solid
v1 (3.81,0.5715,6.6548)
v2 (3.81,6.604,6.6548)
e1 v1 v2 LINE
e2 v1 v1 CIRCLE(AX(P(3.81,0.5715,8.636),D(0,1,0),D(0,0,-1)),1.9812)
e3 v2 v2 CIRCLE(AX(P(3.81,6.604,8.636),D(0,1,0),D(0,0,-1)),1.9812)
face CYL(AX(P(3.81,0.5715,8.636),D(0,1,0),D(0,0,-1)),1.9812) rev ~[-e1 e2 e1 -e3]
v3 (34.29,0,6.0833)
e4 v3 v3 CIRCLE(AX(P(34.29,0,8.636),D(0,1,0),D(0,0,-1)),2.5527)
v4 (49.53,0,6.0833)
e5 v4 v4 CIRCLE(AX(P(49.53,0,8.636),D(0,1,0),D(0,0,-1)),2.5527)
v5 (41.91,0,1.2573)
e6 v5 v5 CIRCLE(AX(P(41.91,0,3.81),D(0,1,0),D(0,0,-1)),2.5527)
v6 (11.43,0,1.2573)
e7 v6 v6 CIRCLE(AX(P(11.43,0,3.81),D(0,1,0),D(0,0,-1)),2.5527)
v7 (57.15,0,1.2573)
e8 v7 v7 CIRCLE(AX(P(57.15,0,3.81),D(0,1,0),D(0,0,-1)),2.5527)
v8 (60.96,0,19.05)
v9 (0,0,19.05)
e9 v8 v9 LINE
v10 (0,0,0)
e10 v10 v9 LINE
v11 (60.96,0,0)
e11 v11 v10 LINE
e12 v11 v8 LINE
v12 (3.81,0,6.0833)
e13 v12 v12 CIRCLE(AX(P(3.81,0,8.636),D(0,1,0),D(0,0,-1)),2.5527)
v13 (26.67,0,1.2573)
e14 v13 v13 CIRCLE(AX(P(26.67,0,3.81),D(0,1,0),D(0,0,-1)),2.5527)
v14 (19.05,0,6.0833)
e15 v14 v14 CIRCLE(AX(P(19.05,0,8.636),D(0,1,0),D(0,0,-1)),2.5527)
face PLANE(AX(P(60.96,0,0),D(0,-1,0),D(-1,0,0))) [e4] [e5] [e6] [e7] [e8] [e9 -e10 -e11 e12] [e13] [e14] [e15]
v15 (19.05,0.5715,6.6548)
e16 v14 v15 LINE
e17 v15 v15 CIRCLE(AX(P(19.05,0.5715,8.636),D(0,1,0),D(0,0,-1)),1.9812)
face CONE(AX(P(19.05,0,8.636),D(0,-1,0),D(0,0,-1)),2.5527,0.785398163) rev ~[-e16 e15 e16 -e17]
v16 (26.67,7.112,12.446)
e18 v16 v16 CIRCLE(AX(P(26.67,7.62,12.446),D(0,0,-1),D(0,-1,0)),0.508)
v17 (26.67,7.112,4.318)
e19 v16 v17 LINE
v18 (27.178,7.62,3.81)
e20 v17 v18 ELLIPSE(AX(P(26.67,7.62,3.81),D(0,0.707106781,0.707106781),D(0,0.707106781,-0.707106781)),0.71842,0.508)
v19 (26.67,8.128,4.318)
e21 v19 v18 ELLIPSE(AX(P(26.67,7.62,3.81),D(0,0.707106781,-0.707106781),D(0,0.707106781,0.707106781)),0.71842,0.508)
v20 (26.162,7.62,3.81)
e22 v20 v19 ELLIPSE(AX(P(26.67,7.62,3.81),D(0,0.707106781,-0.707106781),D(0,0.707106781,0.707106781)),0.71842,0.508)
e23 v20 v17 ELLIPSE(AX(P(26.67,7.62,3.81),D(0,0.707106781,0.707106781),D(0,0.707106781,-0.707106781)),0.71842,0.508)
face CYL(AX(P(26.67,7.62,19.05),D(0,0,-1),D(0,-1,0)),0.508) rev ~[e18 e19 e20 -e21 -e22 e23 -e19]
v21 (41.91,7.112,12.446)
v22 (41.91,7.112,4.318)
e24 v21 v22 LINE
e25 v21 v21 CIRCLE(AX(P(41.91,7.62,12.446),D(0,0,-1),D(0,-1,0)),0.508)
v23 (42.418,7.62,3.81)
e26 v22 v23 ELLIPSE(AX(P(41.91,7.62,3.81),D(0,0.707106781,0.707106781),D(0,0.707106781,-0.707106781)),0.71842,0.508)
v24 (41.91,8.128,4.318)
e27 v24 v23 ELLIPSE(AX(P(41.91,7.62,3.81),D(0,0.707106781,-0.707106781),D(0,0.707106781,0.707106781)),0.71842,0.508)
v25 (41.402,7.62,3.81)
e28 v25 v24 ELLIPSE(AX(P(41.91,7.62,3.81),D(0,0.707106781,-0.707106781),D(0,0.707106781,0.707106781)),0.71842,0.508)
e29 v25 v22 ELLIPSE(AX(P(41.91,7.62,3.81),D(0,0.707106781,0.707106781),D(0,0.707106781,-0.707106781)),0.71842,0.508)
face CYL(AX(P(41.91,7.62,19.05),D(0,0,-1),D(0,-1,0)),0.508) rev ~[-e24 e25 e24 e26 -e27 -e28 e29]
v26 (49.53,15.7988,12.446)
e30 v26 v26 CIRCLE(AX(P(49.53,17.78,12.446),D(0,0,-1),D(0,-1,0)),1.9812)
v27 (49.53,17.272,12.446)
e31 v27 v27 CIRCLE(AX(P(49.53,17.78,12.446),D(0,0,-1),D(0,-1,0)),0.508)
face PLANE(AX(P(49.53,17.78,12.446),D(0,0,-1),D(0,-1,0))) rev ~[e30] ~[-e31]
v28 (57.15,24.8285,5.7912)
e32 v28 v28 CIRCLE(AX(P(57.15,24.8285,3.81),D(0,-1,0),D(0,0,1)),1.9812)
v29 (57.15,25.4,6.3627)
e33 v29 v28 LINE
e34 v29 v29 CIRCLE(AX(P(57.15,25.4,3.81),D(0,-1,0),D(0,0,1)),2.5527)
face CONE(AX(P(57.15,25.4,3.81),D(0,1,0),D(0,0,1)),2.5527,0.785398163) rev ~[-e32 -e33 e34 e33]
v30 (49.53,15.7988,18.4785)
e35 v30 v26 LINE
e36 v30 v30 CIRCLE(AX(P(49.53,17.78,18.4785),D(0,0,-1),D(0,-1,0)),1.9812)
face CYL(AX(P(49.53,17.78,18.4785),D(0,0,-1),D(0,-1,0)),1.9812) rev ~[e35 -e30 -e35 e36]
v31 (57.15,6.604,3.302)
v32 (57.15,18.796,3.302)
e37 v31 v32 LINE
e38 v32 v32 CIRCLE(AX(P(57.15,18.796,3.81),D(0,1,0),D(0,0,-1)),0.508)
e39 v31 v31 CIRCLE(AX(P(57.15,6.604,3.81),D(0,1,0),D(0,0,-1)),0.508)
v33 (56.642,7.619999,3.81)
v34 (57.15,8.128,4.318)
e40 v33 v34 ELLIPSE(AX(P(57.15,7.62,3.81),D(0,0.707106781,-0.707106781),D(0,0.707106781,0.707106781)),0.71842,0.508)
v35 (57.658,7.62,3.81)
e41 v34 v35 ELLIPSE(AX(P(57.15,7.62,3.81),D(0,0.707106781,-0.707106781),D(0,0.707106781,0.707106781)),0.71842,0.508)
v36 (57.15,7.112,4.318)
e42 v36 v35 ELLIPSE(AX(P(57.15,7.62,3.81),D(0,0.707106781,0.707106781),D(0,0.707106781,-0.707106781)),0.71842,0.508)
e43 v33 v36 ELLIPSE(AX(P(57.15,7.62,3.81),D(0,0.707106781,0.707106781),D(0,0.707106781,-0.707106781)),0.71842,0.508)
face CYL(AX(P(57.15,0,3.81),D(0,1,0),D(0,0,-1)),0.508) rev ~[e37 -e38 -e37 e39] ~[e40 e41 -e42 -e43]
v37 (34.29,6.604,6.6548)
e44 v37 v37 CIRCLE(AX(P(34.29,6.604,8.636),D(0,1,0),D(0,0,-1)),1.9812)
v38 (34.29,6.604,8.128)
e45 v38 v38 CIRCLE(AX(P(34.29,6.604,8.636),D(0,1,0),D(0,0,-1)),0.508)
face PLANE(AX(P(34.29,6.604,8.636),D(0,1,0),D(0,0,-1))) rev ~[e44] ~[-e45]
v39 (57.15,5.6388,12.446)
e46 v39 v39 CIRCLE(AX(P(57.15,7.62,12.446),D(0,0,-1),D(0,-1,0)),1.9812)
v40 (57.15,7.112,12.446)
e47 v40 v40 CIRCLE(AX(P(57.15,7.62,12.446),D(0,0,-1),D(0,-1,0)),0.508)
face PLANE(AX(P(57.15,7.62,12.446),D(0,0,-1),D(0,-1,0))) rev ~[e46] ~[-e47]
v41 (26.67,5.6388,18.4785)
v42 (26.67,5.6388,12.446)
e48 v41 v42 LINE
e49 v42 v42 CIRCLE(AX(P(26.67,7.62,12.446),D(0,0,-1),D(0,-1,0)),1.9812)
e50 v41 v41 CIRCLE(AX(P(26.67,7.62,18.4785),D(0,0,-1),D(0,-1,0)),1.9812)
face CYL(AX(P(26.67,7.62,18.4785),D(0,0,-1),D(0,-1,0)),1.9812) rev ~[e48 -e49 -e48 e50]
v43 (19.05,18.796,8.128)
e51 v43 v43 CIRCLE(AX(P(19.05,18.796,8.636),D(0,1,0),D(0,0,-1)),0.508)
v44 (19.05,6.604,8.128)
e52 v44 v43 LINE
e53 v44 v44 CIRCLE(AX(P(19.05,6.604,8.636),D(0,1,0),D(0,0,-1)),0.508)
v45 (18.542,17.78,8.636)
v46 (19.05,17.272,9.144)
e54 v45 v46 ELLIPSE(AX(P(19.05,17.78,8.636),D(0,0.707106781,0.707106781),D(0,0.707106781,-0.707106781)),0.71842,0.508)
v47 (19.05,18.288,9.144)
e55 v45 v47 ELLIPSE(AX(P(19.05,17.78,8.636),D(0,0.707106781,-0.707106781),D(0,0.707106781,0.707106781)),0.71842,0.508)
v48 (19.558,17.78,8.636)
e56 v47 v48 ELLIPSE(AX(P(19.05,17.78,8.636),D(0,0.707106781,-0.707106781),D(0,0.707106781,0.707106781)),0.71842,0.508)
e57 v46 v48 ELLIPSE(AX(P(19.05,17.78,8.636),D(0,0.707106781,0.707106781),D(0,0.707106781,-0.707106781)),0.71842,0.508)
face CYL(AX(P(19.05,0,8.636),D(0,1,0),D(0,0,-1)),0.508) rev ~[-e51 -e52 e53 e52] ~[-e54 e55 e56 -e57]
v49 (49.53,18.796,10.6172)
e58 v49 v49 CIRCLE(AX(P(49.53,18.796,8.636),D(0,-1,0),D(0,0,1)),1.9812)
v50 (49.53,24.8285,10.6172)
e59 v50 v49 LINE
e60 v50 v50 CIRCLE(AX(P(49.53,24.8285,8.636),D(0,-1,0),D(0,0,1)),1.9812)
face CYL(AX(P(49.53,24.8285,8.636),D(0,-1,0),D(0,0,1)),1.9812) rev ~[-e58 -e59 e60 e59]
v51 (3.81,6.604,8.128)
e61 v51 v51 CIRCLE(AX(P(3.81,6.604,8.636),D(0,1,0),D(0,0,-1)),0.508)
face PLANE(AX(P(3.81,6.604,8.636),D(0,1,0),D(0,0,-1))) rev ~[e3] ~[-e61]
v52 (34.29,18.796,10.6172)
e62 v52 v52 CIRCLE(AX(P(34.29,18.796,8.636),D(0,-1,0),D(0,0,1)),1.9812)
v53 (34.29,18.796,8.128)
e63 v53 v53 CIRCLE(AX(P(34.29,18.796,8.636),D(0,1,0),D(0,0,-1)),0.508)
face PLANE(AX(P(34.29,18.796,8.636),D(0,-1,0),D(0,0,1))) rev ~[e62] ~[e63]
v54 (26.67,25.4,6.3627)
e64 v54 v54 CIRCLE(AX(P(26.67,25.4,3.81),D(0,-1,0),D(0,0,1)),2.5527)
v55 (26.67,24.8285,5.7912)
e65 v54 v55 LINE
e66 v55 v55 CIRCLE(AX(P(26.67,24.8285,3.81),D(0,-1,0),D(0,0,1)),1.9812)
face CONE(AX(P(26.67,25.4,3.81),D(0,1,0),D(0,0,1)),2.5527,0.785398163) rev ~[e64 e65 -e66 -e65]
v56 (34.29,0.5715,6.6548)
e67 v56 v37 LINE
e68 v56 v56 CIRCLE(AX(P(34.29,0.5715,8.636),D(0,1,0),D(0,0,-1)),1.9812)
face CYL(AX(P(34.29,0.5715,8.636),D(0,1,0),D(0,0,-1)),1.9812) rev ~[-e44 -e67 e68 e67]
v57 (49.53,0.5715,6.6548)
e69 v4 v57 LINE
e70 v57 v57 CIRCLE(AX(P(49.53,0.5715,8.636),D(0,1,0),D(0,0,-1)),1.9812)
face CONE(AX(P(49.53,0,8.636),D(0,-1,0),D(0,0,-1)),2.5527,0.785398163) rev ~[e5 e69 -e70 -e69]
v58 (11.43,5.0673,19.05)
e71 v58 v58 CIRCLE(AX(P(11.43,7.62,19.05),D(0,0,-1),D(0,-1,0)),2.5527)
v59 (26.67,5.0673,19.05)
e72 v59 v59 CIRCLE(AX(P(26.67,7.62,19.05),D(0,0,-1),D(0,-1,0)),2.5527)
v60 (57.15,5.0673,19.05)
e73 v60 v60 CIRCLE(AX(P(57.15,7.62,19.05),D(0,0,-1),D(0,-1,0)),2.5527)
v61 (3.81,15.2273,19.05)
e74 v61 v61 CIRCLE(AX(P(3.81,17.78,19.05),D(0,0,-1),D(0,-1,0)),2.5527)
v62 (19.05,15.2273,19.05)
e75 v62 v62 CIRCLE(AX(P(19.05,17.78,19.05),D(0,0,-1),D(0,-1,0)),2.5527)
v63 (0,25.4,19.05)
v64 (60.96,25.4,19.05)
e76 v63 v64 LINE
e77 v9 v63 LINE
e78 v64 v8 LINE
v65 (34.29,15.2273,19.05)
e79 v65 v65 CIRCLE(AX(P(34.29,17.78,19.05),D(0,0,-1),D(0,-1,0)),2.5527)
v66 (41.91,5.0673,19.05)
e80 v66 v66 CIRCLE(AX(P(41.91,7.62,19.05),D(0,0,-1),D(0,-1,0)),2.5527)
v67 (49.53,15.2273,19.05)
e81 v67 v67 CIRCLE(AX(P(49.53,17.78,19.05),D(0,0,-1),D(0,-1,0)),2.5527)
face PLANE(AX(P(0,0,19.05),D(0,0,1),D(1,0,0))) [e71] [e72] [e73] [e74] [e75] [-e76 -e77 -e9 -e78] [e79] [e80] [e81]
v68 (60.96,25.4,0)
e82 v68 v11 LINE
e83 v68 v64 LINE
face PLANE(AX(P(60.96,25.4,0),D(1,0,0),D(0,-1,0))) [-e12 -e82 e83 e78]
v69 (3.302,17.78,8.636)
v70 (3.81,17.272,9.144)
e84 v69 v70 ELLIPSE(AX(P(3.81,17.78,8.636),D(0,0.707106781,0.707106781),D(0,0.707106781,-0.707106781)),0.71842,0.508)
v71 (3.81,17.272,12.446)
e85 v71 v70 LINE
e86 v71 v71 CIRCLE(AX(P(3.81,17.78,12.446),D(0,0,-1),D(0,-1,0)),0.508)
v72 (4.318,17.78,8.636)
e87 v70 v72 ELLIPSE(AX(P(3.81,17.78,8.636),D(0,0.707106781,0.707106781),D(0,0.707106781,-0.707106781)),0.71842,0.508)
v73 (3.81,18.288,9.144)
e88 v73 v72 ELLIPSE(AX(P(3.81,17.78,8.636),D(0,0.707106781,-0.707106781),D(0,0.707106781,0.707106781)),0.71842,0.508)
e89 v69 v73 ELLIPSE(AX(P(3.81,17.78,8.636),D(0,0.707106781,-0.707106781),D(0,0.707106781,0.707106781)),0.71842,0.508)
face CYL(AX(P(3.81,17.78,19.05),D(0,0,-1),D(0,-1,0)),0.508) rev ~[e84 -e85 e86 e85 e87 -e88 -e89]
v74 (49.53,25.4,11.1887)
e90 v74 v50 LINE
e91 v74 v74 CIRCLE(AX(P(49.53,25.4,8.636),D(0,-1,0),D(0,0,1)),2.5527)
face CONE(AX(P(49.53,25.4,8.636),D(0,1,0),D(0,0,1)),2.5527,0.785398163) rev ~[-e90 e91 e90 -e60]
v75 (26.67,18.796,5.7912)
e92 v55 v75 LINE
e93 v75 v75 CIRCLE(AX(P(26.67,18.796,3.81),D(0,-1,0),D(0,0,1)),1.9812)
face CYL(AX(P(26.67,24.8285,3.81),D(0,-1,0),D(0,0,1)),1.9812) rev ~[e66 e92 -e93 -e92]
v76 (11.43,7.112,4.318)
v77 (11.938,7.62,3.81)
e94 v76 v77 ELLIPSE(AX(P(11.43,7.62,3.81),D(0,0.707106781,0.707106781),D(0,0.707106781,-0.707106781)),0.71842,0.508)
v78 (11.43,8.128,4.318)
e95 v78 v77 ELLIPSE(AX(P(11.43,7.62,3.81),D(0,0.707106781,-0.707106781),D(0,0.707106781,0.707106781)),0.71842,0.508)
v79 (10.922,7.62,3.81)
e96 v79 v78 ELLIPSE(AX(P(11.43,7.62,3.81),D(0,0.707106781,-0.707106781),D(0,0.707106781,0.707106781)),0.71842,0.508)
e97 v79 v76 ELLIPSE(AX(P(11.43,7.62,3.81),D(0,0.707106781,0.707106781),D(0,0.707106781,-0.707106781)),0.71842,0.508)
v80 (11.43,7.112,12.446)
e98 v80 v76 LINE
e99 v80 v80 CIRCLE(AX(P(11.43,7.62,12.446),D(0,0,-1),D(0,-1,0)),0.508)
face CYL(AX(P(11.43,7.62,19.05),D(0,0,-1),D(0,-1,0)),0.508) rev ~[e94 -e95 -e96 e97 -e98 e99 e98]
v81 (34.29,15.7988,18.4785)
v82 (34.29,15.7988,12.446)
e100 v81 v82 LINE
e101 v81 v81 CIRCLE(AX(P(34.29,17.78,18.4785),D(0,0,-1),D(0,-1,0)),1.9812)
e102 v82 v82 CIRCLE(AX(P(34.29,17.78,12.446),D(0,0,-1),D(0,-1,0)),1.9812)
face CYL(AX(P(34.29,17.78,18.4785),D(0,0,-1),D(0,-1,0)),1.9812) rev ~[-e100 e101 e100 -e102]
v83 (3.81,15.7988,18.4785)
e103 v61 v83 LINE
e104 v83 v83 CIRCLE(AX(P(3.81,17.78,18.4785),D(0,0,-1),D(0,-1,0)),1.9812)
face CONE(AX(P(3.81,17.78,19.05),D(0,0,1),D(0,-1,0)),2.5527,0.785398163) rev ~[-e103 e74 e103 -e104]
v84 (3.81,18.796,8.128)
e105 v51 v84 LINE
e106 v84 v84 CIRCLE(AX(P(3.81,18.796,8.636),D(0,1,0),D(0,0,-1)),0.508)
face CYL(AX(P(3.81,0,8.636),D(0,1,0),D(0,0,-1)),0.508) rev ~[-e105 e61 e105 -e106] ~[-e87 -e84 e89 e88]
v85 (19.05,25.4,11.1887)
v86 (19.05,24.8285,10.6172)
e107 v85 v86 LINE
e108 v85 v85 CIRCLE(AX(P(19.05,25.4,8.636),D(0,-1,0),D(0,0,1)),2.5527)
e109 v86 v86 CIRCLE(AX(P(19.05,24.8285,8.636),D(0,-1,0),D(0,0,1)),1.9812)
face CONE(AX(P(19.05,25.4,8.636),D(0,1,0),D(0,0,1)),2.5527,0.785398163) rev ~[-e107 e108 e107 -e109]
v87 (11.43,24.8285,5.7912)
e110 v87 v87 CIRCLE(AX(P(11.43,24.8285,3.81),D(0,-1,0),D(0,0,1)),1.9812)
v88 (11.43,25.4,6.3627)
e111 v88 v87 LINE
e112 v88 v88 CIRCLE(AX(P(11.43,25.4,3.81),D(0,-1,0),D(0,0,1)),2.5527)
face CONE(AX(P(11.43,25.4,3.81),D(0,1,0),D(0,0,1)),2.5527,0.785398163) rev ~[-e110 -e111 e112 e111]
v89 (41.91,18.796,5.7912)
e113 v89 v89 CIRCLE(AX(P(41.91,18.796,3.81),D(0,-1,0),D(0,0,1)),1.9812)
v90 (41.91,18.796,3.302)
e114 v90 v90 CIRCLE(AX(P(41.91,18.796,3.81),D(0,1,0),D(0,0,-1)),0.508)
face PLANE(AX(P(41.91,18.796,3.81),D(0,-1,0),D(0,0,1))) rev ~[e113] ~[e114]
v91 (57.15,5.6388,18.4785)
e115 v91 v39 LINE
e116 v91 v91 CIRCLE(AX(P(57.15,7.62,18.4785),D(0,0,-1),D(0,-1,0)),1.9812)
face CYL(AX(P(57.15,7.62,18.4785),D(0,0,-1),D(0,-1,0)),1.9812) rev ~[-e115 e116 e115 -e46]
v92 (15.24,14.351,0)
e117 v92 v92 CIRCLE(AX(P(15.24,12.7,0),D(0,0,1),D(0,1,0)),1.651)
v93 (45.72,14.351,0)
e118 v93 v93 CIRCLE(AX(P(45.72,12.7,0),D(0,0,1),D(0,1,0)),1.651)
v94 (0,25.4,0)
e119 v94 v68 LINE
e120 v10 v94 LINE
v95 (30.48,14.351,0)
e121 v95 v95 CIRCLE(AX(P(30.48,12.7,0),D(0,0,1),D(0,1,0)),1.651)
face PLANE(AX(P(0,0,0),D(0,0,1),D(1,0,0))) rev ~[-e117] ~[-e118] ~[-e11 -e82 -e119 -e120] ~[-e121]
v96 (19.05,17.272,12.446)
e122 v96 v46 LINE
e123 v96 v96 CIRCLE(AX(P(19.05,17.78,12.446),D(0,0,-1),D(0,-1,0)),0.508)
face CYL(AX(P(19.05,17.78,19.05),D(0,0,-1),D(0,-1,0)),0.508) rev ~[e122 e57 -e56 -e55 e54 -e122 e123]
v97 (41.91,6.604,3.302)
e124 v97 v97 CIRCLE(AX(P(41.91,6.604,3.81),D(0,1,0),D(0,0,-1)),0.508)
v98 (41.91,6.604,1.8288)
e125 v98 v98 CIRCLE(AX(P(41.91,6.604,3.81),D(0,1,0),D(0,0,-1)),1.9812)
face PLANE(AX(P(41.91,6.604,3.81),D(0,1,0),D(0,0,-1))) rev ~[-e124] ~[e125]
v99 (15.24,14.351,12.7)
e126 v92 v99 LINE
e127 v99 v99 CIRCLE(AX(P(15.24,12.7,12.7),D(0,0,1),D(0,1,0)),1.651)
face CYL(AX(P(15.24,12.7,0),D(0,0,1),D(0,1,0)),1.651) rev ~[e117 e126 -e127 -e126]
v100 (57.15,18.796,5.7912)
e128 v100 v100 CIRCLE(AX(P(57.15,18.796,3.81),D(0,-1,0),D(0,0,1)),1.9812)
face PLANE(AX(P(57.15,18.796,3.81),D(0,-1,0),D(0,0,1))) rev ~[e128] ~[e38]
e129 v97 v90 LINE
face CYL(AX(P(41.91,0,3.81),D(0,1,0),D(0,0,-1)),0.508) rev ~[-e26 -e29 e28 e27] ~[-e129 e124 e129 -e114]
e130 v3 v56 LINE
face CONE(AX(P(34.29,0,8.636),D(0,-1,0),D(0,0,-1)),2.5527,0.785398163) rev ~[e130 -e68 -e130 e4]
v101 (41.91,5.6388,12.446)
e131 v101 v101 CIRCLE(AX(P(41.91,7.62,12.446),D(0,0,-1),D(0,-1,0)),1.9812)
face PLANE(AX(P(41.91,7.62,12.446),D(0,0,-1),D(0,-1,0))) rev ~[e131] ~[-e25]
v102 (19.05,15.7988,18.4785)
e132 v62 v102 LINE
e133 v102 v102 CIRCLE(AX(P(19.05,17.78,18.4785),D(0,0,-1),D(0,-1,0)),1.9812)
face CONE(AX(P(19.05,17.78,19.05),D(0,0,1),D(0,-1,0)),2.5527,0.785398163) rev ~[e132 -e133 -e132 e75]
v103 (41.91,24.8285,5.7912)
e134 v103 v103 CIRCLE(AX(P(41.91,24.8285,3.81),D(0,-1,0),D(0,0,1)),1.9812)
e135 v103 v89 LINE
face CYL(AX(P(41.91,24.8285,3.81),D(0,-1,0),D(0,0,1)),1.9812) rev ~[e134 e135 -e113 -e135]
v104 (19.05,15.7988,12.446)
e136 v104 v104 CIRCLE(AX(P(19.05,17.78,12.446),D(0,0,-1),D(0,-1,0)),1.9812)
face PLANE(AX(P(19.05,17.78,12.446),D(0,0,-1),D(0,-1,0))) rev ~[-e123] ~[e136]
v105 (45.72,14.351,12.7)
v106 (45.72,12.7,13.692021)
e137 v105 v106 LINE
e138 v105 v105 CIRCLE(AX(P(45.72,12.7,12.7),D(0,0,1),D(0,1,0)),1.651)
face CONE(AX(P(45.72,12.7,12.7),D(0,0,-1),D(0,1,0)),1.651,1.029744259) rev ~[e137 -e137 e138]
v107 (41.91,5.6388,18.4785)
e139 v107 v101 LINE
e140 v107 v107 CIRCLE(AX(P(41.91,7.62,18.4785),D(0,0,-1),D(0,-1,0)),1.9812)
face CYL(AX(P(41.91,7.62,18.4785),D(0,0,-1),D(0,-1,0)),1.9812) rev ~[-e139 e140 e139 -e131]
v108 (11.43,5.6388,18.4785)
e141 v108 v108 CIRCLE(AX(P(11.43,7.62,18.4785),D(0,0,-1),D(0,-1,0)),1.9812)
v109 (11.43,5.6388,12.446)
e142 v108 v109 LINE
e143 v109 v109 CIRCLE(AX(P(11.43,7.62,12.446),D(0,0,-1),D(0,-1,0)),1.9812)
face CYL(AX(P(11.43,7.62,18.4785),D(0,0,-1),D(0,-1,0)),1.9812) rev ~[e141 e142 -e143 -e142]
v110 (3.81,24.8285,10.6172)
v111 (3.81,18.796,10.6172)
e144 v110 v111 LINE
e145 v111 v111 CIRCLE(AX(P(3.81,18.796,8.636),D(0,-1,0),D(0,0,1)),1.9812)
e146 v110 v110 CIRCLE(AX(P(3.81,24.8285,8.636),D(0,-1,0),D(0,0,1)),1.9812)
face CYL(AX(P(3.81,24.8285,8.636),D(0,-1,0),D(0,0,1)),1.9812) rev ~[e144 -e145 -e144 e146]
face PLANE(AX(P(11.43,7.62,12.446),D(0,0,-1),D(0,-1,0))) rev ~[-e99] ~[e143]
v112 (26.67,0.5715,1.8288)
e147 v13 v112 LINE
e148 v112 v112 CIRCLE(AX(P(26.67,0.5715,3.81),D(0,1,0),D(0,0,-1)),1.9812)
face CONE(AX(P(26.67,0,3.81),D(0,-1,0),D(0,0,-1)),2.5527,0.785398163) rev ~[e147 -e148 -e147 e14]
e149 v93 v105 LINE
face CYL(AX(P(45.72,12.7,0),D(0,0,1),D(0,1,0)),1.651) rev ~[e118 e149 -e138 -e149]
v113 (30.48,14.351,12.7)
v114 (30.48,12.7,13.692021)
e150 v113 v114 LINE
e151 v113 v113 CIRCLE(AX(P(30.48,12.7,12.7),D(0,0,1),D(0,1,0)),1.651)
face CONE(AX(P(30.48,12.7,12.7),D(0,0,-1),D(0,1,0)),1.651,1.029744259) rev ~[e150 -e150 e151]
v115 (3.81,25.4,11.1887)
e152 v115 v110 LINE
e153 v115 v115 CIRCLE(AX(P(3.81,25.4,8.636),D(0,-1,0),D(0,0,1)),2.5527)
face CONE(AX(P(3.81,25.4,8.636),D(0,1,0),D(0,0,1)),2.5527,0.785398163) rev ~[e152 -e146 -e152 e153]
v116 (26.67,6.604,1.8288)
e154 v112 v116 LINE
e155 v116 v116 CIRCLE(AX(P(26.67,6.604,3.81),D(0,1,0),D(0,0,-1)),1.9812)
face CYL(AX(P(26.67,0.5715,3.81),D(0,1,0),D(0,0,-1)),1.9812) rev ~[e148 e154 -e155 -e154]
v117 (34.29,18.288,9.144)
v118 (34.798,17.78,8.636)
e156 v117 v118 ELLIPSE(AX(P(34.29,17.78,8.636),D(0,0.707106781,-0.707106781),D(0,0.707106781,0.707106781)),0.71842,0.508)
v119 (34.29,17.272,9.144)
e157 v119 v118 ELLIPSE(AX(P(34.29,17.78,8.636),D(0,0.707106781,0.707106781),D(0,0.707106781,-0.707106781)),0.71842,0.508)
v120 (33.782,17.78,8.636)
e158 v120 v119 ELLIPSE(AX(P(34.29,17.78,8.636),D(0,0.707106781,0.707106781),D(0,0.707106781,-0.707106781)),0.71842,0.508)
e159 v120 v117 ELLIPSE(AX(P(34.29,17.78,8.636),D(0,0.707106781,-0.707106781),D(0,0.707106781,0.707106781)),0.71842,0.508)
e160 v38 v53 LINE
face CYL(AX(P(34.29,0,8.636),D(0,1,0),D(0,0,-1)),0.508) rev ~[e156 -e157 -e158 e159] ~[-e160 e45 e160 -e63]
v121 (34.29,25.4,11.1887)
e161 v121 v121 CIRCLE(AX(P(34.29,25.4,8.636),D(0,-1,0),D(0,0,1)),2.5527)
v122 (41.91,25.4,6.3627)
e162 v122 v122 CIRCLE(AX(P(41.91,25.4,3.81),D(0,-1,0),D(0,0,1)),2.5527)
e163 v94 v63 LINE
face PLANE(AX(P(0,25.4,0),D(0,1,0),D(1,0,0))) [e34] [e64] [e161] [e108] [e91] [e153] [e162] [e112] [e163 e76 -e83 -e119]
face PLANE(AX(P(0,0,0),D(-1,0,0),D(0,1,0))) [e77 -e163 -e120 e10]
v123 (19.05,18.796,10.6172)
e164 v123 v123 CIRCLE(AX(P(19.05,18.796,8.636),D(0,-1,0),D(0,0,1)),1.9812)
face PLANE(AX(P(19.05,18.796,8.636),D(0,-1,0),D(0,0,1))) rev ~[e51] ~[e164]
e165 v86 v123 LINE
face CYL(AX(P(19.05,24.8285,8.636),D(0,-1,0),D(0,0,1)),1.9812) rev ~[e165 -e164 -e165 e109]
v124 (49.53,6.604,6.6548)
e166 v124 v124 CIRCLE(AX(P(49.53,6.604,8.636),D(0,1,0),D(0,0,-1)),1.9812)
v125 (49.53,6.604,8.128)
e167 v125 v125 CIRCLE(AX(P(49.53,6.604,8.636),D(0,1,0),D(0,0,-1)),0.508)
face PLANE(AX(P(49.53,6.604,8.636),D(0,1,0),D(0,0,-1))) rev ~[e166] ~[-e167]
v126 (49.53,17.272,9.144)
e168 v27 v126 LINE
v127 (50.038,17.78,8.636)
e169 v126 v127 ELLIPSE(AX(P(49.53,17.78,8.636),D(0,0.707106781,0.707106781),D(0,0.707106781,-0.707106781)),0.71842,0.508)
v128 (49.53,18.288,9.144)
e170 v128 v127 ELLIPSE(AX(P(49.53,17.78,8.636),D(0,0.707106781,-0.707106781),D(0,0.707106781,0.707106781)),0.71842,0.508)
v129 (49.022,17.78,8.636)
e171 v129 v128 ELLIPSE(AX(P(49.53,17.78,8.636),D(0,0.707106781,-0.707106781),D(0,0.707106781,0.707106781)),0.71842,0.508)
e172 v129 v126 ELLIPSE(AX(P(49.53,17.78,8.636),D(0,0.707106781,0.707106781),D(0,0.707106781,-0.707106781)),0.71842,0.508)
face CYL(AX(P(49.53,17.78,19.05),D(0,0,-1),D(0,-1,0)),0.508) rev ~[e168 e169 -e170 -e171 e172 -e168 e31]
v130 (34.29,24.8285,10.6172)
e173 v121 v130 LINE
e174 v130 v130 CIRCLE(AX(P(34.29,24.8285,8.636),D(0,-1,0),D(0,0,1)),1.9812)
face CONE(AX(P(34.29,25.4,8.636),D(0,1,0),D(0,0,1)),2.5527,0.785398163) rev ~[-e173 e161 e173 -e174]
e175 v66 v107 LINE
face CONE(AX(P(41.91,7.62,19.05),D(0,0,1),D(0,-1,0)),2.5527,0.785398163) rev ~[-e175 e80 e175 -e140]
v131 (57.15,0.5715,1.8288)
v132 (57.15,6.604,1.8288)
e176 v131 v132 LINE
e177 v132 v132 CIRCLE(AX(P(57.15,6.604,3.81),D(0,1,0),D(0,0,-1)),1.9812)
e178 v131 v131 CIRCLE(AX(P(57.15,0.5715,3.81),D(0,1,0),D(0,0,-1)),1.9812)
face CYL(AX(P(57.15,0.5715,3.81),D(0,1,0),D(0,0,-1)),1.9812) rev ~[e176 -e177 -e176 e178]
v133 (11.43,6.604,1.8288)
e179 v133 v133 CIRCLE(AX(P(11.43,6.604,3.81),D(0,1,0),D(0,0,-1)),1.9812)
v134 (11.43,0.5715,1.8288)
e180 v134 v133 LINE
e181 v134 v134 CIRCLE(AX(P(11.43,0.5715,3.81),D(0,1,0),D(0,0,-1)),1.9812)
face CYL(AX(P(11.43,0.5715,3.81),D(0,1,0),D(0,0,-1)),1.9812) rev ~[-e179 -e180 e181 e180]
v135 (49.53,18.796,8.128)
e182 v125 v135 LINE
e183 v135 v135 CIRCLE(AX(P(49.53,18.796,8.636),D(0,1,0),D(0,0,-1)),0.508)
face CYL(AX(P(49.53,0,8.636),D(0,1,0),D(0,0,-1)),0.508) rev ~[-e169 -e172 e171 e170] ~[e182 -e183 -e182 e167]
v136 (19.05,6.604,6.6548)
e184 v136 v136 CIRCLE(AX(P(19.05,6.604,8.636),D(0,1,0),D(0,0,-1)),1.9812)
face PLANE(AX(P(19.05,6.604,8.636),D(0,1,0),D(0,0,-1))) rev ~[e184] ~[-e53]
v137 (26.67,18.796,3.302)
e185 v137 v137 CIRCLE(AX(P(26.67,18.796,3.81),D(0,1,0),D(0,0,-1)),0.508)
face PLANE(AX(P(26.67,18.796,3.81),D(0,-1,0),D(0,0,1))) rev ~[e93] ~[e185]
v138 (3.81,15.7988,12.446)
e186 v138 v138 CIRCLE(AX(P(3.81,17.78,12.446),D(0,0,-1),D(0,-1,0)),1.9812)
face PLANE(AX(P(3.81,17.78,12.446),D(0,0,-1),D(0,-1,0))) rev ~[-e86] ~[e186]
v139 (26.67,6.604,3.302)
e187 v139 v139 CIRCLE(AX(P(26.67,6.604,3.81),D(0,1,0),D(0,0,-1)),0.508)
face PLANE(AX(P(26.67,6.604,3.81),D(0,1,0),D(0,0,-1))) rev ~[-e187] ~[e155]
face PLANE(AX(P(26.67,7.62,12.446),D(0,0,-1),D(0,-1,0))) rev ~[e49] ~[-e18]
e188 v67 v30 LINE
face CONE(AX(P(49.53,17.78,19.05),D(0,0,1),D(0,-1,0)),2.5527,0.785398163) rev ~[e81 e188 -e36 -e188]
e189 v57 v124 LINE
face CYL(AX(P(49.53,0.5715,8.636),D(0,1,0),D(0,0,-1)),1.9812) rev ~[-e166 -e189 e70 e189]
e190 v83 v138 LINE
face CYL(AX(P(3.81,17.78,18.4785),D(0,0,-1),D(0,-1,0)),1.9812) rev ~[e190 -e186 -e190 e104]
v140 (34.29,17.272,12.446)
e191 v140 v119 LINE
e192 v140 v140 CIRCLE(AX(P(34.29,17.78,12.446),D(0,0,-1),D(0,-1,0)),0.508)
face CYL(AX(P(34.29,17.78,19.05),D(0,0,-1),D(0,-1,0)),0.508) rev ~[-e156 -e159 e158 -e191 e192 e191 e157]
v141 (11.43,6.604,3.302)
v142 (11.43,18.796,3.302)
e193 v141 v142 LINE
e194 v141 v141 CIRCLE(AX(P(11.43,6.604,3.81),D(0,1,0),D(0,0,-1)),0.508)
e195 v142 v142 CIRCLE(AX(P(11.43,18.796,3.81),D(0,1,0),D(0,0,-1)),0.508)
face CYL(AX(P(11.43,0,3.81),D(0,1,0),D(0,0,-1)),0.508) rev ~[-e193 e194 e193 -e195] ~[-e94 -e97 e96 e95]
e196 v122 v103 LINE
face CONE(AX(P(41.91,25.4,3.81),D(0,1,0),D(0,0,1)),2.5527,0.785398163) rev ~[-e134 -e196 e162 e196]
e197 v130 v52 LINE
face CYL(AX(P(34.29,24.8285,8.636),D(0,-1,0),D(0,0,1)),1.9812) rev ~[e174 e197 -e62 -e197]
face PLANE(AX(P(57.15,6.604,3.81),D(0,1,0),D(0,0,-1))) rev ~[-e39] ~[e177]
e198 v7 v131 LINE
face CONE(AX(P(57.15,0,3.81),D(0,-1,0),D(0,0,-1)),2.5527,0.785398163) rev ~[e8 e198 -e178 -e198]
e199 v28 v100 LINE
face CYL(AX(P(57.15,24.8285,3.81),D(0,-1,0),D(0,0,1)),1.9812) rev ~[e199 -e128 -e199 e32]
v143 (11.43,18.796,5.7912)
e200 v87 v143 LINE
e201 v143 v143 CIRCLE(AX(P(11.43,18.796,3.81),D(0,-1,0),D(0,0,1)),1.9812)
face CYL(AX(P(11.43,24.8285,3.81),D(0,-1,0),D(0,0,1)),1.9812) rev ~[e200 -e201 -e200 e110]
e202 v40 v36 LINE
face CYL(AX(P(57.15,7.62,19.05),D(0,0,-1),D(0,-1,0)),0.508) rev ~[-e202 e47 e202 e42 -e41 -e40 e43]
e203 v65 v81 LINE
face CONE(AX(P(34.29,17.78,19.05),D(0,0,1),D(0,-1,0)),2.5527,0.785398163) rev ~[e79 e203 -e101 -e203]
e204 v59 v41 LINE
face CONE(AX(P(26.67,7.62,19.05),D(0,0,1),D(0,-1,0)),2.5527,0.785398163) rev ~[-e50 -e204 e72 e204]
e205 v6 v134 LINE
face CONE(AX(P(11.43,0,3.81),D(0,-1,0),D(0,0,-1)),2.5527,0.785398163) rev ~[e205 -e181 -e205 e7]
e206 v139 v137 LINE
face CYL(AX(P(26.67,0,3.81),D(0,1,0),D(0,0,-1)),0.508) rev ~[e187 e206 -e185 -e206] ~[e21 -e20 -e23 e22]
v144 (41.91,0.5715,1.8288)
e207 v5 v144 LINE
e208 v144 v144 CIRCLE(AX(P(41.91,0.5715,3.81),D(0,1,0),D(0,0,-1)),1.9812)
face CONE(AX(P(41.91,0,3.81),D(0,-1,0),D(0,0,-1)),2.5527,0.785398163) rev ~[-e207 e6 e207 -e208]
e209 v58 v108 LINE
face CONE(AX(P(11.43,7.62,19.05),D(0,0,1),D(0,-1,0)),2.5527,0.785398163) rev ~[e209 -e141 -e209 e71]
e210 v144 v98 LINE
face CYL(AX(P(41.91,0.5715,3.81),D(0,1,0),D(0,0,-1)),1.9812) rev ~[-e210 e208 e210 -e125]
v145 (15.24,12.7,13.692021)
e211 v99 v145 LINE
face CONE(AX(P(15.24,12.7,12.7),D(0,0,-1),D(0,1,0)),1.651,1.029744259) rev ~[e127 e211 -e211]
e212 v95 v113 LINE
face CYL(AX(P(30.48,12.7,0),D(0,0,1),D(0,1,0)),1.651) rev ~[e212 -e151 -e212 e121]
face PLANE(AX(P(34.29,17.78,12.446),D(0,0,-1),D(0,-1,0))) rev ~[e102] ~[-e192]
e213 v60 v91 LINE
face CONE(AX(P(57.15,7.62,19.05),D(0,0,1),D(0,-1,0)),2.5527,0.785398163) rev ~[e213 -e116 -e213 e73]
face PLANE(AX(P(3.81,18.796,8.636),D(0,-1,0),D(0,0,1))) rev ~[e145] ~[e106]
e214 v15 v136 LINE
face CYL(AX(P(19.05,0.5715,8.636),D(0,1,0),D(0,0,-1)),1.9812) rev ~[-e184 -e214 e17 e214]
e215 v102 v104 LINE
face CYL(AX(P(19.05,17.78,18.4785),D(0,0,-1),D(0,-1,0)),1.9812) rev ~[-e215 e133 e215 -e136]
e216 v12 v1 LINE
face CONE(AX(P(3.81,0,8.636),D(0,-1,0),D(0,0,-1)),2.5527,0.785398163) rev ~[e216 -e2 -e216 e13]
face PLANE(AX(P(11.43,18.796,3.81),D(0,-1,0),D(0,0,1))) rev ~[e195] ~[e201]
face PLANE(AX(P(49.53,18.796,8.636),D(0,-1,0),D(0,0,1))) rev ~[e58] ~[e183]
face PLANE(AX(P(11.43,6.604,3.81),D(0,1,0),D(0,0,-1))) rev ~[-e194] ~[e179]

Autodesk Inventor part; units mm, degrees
ref_plane "YZ Plane" through (0, 0, 0) normal (1, 0, 0) x (0, 1, 0)
sketch "Sketch1" plane through (0, 0, 0) normal (0, 0, 1) x (1, 0, 0)
  line L0 (0, 25.4) -> (60.96, 25.4)
  line L1 (60.96, 25.4) -> (60.96, 0)
  line L2 (60.96, 0) -> (0, 0)
  line L3 (0, 0) -> (0, 25.4)
  dimension "tmanifold_width" = 60.96
  dimension "tmanifold_depth" = 25.4
extrude "Extrusion1" add sketch "Sketch1" along normal blind 19.05
sketch "Sketch2" plane through (0, 0, 19.05) normal (0, 0, 1) x (1, 0, 0)
  line L0 (60.96, 25.4) -> (60.96, 0) projected
  line L1 (0, 25.4) -> (60.96, 25.4) projected
  line L2 (0, 0) -> (0, 25.4) projected
  line L3 (0, 12.7) -> (60.96, 12.7) construction
  line L4 (3.81, 17.78) -> (3.81, 12.7) construction
  line L5 (11.43, 7.62) -> (11.43, 12.7) construction
  point P0 (19.05, 17.78)
  point P1 (26.67, 7.62)
  point P2 (34.29, 17.78)
  point P3 (41.91, 7.62)
  point P4 (49.53, 17.78)
  point P5 (57.15, 7.62)
  dimension "d5" = 7.62
  dimension "d6" = 7.62
  dimension "d9" = 15.24
  dimension "d14" = 3.81
hole "top 10-32 ports" at (3.81, 17.78, 19.05) at (11.43, 7.62, 19.05) at (26.67, 7.62, 19.05) at (19.05, 17.78, 19.05) at (41.91, 7.62, 19.05) at (34.29, 17.78, 19.05) at (57.15, 7.62, 19.05) at (49.53, 17.78, 19.05) direction (0, 0, -1) diameter 3.9624 depth 6.604 countersink diameter 5.1054 countersink angle 90 thread size "10-32 UNF" class "2B" standard "ANSI Unified Screw Threads"
sketch "Sketch3" plane through (0, 0, 0) normal (0, -1, 0) x (1, 0, 0)
  line L0 (60.96, 19.05) -> (0, 19.05) projected
  line L1 (60.96, 0) -> (0, 0) projected
  line L2 (1.8288, 12.446) -> (1.8288, 18.4785) projected
  line L3 (5.7912, 12.446) -> (5.7912, 18.4785) projected
  line L4 (5.7912, 12.446) -> (1.8288, 12.446) projected
  line L5 (9.4488, 12.446) -> (9.4488, 18.4785) projected
  line L6 (13.4112, 12.446) -> (13.4112, 18.4785) projected
  line L7 (13.4112, 12.446) -> (9.4488, 12.446) projected
  line L8 (3.81, 12.446) -> (3.81, 0) construction
  line L9 (11.43, 12.446) -> (11.43, 0) construction
  circle A0 centre (3.81, 8.636) radius 3.81 construction
  circle A1 centre (11.43, 3.81) radius 3.81 construction
  point P0 (19.05, 8.636)
  point P1 (26.67, 3.81)
  point P2 (34.29, 8.636)
  point P3 (41.91, 3.81)
  point P4 (49.53, 8.636)
  point P5 (57.15, 3.81)
  dimension "d22" = 7.62
  dimension "d25" = 15.24
  dimension "d78" = 8.636
  dimension "d79" = 3.81
hole "front 10-32 ports" at (3.81, 0, 8.636) at (11.43, 0, 3.81) at (19.05, 0, 8.636) at (26.67, 0, 3.81) at (34.29, 0, 8.636) at (41.91, 0, 3.81) at (49.53, 0, 8.636) at (57.15, 0, 3.81) direction (0, 1, 0) diameter 3.9624 depth 6.604 countersink diameter 5.1054 countersink angle 90 thread size "10-32 UNF" class "2B" standard "ANSI Unified Screw Threads"
sketch "Sketch4" plane through (0, 25.4, 0) normal (0, 1, 0) x (1, 0, 0)
  circle A0 centre (3.81, -8.636) radius 2.5527 projected
  circle A1 centre (11.43, -3.81) radius 2.5527 projected
  circle A2 centre (19.05, -8.636) radius 2.5527 projected
  circle A3 centre (26.67, -3.81) radius 2.5527 projected
  circle A4 centre (34.29, -8.636) radius 2.5527 projected
  circle A5 centre (41.91, -3.81) radius 2.5527 projected
  circle A6 centre (49.53, -8.636) radius 2.5527 projected
  circle A7 centre (57.15, -3.81) radius 2.5527 projected
  dimension "d76" = 4.826
  dimension "d77" = 9.0197
hole "rear 10-32 ports" at (57.15, 25.4, 3.81) at (49.53, 25.4, 8.636) at (41.91, 25.4, 3.81) at (34.29, 25.4, 8.636) at (26.67, 25.4, 3.81) at (19.05, 25.4, 8.636) at (11.43, 25.4, 3.81) at (3.81, 25.4, 8.636) direction (0, -1, 0) diameter 3.9624 depth 6.604 countersink diameter 5.1054 countersink angle 90 thread size "10-32 UNF" class "2B" standard "ANSI Unified Screw Threads"
sketch "Sketch5" plane through (0, 0, 0) normal (0, -1, 0) x (1, 0, 0)
  circle A0 centre (57.15, 3.81) radius 2.5527 projected
  circle A1 centre (49.53, 8.636) radius 2.5527 projected
  circle A2 centre (41.91, 3.81) radius 2.5527 projected
  circle A3 centre (34.29, 8.636) radius 2.5527 projected
  circle A4 centre (26.67, 3.81) radius 2.5527 projected
  circle A5 centre (19.05, 8.636) radius 2.5527 projected
  circle A6 centre (11.43, 3.81) radius 2.5527 projected
  circle A7 centre (3.81, 8.636) radius 2.5527 projected
hole "air channel thru" at (3.81, 0, 8.636) at (11.43, 0, 3.81) at (19.05, 0, 8.636) at (26.67, 0, 3.81) at (34.29, 0, 8.636) at (41.91, 0, 3.81) at (49.53, 0, 8.636) at (57.15, 0, 3.81) direction (0, 1, 0) diameter 1.016 end through all
sketch "Sketch6" plane through (0, 0, 19.05) normal (0, 0, 1) x (1, 0, 0)
  circle A0 centre (49.53, 17.78) radius 2.5527 projected
  circle A1 centre (57.15, 7.62) radius 2.5527 projected
  circle A2 centre (34.29, 17.78) radius 2.5527 projected
  circle A3 centre (41.91, 7.62) radius 2.5527 projected
  circle A4 centre (19.05, 17.78) radius 2.5527 projected
  circle A5 centre (26.67, 7.62) radius 2.5527 projected
  circle A6 centre (11.43, 7.62) radius 2.5527 projected
  circle A7 centre (3.81, 17.78) radius 2.5527 projected
ref_plane "Work Plane1" through (3.81, 0, 8.636) normal (0, 0, 1) x (1, 0, 0)
ref_plane "Work Plane2" through (11.43, 0, 3.81) normal (0, 0, 1) x (1, 0, 0)
hole "Hole5" at (3.81, 17.78, 19.05) at (19.05, 17.78, 19.05) at (34.29, 17.78, 19.05) at (49.53, 17.78, 19.05) direction (0, 0, -1) diameter 1.016 depth 10.414
hole "Hole6" at (11.43, 7.62, 19.05) at (26.67, 7.62, 19.05) at (41.91, 7.62, 19.05) at (57.15, 7.62, 19.05) direction (0, 0, -1) diameter 1.016 depth 15.24
sketch "Sketch7" plane through (0, 0, 0) normal (0, 0, -1) x (-1, 0, 0)
  line L0 (-1.8288, 6.604) -> (-1.8288, 0.5715) projected
  line L1 (-5.7912, 6.604) -> (-5.7912, 0.5715) projected
  line L2 (-3.302, 18.796) -> (-3.302, 6.604) projected
  line L3 (-4.318, 18.796) -> (-4.318, 6.604) projected
  line L4 (-1.8288, 18.796) -> (-1.8288, 24.8285) projected
  line L5 (-5.7912, 18.796) -> (-5.7912, 24.8285) projected
  line L6 (-1.8288, 18.796) -> (-5.7912, 18.796) projected
  line L7 (-5.7912, 6.604) -> (-1.8288, 6.604) projected
  line L8 (-8.8773, 0) -> (-13.9827, 0) projected
  line L9 (-13.4112, 0.5715) -> (-9.4488, 0.5715) projected
  line L10 (-13.4112, 6.604) -> (-13.4112, 0.5715) projected
  line L11 (-9.4488, 6.604) -> (-9.4488, 0.5715) projected
  line L12 (-10.922, 18.796) -> (-10.922, 6.604) projected
  line L13 (-11.938, 18.796) -> (-11.938, 6.604) projected
  line L14 (-9.4488, 18.796) -> (-13.4112, 18.796) projected
  line L15 (-18.542, 18.796) -> (-18.542, 6.604) projected
  line L16 (-19.558, 18.796) -> (-19.558, 6.604) projected
  line L17 (-21.0312, 6.604) -> (-17.0688, 6.604) projected
  line L18 (-28.6512, 6.604) -> (-24.6888, 6.604) projected
  line L19 (-36.2712, 6.604) -> (-32.3088, 6.604) projected
  line L20 (-31.7373, 0) -> (-36.8427, 0) projected
  line L21 (-43.8912, 6.604) -> (-39.9288, 6.604) projected
  line L22 (-51.5112, 6.604) -> (-47.5488, 6.604) projected
  line L23 (-49.022, 18.796) -> (-49.022, 6.604) projected
  line L24 (-50.038, 18.796) -> (-50.038, 6.604) projected
  line L25 (-49.022, 18.796) -> (-49.022, 6.604) projected
  line L26 (-50.038, 18.796) -> (-50.038, 6.604) projected
  line L27 (-33.782, 18.796) -> (-33.782, 6.604) projected
  line L28 (-33.782, 18.796) -> (-33.782, 6.604) projected
  line L29 (-32.3088, 6.604) -> (-32.3088, 0.5715) projected
  line L30 (-33.782, 18.796) -> (-33.782, 6.604) projected
  line L31 (-33.782, 18.796) -> (-33.782, 6.604) projected
  line L32 (-41.402, 18.796) -> (-41.402, 6.604) projected
  line L33 (-42.418, 18.796) -> (-42.418, 6.604) projected
  line L34 (-27.178, 18.796) -> (-27.178, 6.604) projected
  line L35 (-21.0312, 18.796) -> (-21.0312, 24.8285) projected
  line L36 (-27.178, 18.796) -> (-27.178, 6.604) projected
  line L37 (-42.418, 18.796) -> (-42.418, 6.604) projected
  line L38 (-36.2712, 18.796) -> (-36.2712, 24.8285) projected
  line L39 (-34.798, 18.796) -> (-34.798, 6.604) projected
  line L40 (-39.9288, 18.796) -> (-43.8912, 18.796) projected
  line L41 (-47.5488, 18.796) -> (-51.5112, 18.796) projected
  line L42 (-55.1688, 18.796) -> (-59.1312, 18.796) projected
  line L43 (-56.642, 18.796) -> (-56.642, 6.604) projected
  line L44 (-57.658, 18.796) -> (-57.658, 6.604) projected
  line L45 (-59.1312, 6.604) -> (-55.1688, 6.604) projected
  line L46 (-32.3088, 18.796) -> (-36.2712, 18.796) projected
  line L47 (-26.162, 18.796) -> (-26.162, 6.604) projected
  line L48 (-24.6888, 18.796) -> (-28.6512, 18.796) projected
  circle A0 centre (-49.53, 17.78) radius 2.5527 projected
  circle A1 centre (-57.15, 7.62) radius 2.5527 projected
  circle A2 centre (-34.29, 17.78) radius 2.5527 projected
  circle A3 centre (-41.91, 7.62) radius 2.5527 projected
  circle A4 centre (-19.05, 17.78) radius 2.5527 projected
  circle A5 centre (-26.67, 7.62) radius 2.5527 projected
  circle A6 centre (-11.43, 7.62) radius 2.5527 projected
  circle A7 centre (-3.81, 17.78) radius 2.5527 projected
  line L49 (-60.96, 25.4) -> (-60.96, 0) projected
  line L50 (0, 25.4) -> (-60.96, 25.4) projected
  line L51 (0, 0) -> (0, 25.4) projected
  line L52 (-60.96, 0) -> (0, 0) projected
  line L53 (-28.6512, 6.604) -> (-28.6512, 0.5715) projected
  line L54 (-24.6888, 6.604) -> (-24.6888, 0.5715) projected
  line L55 (-36.2712, 6.604) -> (-36.2712, 0.5715) projected
  line L56 (-39.9288, 6.604) -> (-39.9288, 0.5715) projected
  line L57 (-43.8912, 6.604) -> (-43.8912, 0.5715) projected
  line L58 (-47.5488, 6.604) -> (-47.5488, 0.5715) projected
  line L59 (-51.5112, 6.604) -> (-51.5112, 0.5715) projected
  line L60 (-55.1688, 6.604) -> (-55.1688, 0.5715) projected
  line L61 (-59.1312, 6.604) -> (-59.1312, 0.5715) projected
  line L62 (-39.9288, 18.796) -> (-39.9288, 24.8285) projected
  line L63 (-43.8912, 18.796) -> (-43.8912, 24.8285) projected
  line L64 (-51.5112, 18.796) -> (-51.5112, 24.8285) projected
  line L65 (-55.1688, 18.796) -> (-55.1688, 24.8285) projected
  line L66 (-59.1312, 18.796) -> (-59.1312, 24.8285) projected
  line L67 (-17.0688, 18.796) -> (-21.0312, 18.796) projected
  line L68 (-17.0688, 18.796) -> (-17.0688, 24.8285) projected
  line L69 (-17.0688, 6.604) -> (-17.0688, 0.5715) projected
  line L70 (-21.0312, 6.604) -> (-21.0312, 0.5715) projected
  line L71 (-13.4112, 18.796) -> (-13.4112, 24.8285) projected
  line L72 (-9.4488, 18.796) -> (-9.4488, 24.8285) projected
  circle A8 centre (-34.29, 17.78) radius 2.5527 projected
  circle A9 centre (-19.05, 17.78) radius 2.5527 projected
  circle A10 centre (-3.81, 17.78) radius 2.5527 projected
  circle A11 centre (-11.43, 7.62) radius 2.5527 projected
  circle A12 centre (-26.67, 7.62) radius 2.5527 projected
  circle A13 centre (-41.91, 7.62) radius 2.5527 projected
  circle A14 centre (-49.53, 17.78) radius 2.5527 projected
  circle A15 centre (-57.15, 7.62) radius 2.5527 projected
  line L73 (-32.3088, 18.796) -> (-32.3088, 24.8285) projected
  line L74 (-28.6512, 18.796) -> (-28.6512, 24.8285) projected
  line L75 (-24.6888, 18.796) -> (-24.6888, 24.8285) projected
  line L76 (-13.4112, 6.604) -> (-9.4488, 6.604) projected
  line L77 (-47.5488, 18.796) -> (-47.5488, 24.8285) projected
  line L78 (-60.96, 12.7) -> (0, 12.7) construction
  line L79 (-30.48, 25.4) -> (-30.48, 0) construction
  point P0 (-30.48, 12.7)
  point P1 (-15.24, 12.7)
  point P2 (-45.72, 12.7)
  dimension "d68" = 15.24
sketch "Sketch8" plane through (0, 0, 19.05) normal (0, 0, 1) x (1, 0, 0)
  circle A0 centre (49.53, 17.78) radius 2.5527 projected
  circle A1 centre (57.15, 7.62) radius 2.5527 projected
  circle A2 centre (34.29, 17.78) radius 2.5527 projected
  circle A3 centre (41.91, 7.62) radius 2.5527 projected
  circle A4 centre (19.05, 17.78) radius 2.5527 projected
  circle A5 centre (26.67, 7.62) radius 2.5527 projected
  circle A6 centre (11.43, 7.62) radius 2.5527 projected
  circle A7 centre (3.81, 17.78) radius 2.5527 projected
  line L0 (60.96, 25.4) -> (60.96, 0) projected
  line L1 (0, 25.4) -> (60.96, 25.4) projected
  line L2 (0, 0) -> (0, 25.4) projected
  line L3 (60.96, 0) -> (0, 0) projected
  line L4 (0, 12.7) -> (60.96, 12.7) construction
  line L5 (0, 12.7) -> (60.96, 12.7)
  line L6 (30.48, 0) -> (30.48, 25.4) construction
  line L7 (11.938, 18.796) -> (11.938, 6.604) projected
  line L8 (10.922, 18.796) -> (10.922, 6.604) projected
  line L9 (18.542, 18.796) -> (18.542, 6.604) projected
  line L10 (19.558, 18.796) -> (19.558, 6.604) projected
  line L11 (26.162, 18.796) -> (26.162, 6.604) projected
  line L12 (27.178, 18.796) -> (27.178, 6.604) projected
  line L13 (33.782, 18.796) -> (33.782, 6.604) projected
  line L14 (34.798, 18.796) -> (34.798, 6.604) projected
  line L15 (42.418, 18.796) -> (42.418, 6.604) projected
  line L16 (41.402, 18.796) -> (41.402, 6.604) projected
  line L17 (49.022, 18.796) -> (49.022, 6.604) projected
  line L18 (50.038, 18.796) -> (50.038, 6.604) projected
  point P0 (30.48, 12.7)
  point P1 (45.72, 12.7)
  point P2 (15.24, 12.7)
  dimension "d66" = 30.48
  dimension "d67" = 15.24
hole "Hole7" at (30.48, 12.7, 0) at (15.24, 12.7, 0) at (45.72, 12.7, 0) direction (0, 0, 1) diameter 3.302 depth 12.7 tip angle 118 thread size "8-32 UNC" class "2B" standard "ANSI Unified Screw Threads"
properties part number "t-manifold"
